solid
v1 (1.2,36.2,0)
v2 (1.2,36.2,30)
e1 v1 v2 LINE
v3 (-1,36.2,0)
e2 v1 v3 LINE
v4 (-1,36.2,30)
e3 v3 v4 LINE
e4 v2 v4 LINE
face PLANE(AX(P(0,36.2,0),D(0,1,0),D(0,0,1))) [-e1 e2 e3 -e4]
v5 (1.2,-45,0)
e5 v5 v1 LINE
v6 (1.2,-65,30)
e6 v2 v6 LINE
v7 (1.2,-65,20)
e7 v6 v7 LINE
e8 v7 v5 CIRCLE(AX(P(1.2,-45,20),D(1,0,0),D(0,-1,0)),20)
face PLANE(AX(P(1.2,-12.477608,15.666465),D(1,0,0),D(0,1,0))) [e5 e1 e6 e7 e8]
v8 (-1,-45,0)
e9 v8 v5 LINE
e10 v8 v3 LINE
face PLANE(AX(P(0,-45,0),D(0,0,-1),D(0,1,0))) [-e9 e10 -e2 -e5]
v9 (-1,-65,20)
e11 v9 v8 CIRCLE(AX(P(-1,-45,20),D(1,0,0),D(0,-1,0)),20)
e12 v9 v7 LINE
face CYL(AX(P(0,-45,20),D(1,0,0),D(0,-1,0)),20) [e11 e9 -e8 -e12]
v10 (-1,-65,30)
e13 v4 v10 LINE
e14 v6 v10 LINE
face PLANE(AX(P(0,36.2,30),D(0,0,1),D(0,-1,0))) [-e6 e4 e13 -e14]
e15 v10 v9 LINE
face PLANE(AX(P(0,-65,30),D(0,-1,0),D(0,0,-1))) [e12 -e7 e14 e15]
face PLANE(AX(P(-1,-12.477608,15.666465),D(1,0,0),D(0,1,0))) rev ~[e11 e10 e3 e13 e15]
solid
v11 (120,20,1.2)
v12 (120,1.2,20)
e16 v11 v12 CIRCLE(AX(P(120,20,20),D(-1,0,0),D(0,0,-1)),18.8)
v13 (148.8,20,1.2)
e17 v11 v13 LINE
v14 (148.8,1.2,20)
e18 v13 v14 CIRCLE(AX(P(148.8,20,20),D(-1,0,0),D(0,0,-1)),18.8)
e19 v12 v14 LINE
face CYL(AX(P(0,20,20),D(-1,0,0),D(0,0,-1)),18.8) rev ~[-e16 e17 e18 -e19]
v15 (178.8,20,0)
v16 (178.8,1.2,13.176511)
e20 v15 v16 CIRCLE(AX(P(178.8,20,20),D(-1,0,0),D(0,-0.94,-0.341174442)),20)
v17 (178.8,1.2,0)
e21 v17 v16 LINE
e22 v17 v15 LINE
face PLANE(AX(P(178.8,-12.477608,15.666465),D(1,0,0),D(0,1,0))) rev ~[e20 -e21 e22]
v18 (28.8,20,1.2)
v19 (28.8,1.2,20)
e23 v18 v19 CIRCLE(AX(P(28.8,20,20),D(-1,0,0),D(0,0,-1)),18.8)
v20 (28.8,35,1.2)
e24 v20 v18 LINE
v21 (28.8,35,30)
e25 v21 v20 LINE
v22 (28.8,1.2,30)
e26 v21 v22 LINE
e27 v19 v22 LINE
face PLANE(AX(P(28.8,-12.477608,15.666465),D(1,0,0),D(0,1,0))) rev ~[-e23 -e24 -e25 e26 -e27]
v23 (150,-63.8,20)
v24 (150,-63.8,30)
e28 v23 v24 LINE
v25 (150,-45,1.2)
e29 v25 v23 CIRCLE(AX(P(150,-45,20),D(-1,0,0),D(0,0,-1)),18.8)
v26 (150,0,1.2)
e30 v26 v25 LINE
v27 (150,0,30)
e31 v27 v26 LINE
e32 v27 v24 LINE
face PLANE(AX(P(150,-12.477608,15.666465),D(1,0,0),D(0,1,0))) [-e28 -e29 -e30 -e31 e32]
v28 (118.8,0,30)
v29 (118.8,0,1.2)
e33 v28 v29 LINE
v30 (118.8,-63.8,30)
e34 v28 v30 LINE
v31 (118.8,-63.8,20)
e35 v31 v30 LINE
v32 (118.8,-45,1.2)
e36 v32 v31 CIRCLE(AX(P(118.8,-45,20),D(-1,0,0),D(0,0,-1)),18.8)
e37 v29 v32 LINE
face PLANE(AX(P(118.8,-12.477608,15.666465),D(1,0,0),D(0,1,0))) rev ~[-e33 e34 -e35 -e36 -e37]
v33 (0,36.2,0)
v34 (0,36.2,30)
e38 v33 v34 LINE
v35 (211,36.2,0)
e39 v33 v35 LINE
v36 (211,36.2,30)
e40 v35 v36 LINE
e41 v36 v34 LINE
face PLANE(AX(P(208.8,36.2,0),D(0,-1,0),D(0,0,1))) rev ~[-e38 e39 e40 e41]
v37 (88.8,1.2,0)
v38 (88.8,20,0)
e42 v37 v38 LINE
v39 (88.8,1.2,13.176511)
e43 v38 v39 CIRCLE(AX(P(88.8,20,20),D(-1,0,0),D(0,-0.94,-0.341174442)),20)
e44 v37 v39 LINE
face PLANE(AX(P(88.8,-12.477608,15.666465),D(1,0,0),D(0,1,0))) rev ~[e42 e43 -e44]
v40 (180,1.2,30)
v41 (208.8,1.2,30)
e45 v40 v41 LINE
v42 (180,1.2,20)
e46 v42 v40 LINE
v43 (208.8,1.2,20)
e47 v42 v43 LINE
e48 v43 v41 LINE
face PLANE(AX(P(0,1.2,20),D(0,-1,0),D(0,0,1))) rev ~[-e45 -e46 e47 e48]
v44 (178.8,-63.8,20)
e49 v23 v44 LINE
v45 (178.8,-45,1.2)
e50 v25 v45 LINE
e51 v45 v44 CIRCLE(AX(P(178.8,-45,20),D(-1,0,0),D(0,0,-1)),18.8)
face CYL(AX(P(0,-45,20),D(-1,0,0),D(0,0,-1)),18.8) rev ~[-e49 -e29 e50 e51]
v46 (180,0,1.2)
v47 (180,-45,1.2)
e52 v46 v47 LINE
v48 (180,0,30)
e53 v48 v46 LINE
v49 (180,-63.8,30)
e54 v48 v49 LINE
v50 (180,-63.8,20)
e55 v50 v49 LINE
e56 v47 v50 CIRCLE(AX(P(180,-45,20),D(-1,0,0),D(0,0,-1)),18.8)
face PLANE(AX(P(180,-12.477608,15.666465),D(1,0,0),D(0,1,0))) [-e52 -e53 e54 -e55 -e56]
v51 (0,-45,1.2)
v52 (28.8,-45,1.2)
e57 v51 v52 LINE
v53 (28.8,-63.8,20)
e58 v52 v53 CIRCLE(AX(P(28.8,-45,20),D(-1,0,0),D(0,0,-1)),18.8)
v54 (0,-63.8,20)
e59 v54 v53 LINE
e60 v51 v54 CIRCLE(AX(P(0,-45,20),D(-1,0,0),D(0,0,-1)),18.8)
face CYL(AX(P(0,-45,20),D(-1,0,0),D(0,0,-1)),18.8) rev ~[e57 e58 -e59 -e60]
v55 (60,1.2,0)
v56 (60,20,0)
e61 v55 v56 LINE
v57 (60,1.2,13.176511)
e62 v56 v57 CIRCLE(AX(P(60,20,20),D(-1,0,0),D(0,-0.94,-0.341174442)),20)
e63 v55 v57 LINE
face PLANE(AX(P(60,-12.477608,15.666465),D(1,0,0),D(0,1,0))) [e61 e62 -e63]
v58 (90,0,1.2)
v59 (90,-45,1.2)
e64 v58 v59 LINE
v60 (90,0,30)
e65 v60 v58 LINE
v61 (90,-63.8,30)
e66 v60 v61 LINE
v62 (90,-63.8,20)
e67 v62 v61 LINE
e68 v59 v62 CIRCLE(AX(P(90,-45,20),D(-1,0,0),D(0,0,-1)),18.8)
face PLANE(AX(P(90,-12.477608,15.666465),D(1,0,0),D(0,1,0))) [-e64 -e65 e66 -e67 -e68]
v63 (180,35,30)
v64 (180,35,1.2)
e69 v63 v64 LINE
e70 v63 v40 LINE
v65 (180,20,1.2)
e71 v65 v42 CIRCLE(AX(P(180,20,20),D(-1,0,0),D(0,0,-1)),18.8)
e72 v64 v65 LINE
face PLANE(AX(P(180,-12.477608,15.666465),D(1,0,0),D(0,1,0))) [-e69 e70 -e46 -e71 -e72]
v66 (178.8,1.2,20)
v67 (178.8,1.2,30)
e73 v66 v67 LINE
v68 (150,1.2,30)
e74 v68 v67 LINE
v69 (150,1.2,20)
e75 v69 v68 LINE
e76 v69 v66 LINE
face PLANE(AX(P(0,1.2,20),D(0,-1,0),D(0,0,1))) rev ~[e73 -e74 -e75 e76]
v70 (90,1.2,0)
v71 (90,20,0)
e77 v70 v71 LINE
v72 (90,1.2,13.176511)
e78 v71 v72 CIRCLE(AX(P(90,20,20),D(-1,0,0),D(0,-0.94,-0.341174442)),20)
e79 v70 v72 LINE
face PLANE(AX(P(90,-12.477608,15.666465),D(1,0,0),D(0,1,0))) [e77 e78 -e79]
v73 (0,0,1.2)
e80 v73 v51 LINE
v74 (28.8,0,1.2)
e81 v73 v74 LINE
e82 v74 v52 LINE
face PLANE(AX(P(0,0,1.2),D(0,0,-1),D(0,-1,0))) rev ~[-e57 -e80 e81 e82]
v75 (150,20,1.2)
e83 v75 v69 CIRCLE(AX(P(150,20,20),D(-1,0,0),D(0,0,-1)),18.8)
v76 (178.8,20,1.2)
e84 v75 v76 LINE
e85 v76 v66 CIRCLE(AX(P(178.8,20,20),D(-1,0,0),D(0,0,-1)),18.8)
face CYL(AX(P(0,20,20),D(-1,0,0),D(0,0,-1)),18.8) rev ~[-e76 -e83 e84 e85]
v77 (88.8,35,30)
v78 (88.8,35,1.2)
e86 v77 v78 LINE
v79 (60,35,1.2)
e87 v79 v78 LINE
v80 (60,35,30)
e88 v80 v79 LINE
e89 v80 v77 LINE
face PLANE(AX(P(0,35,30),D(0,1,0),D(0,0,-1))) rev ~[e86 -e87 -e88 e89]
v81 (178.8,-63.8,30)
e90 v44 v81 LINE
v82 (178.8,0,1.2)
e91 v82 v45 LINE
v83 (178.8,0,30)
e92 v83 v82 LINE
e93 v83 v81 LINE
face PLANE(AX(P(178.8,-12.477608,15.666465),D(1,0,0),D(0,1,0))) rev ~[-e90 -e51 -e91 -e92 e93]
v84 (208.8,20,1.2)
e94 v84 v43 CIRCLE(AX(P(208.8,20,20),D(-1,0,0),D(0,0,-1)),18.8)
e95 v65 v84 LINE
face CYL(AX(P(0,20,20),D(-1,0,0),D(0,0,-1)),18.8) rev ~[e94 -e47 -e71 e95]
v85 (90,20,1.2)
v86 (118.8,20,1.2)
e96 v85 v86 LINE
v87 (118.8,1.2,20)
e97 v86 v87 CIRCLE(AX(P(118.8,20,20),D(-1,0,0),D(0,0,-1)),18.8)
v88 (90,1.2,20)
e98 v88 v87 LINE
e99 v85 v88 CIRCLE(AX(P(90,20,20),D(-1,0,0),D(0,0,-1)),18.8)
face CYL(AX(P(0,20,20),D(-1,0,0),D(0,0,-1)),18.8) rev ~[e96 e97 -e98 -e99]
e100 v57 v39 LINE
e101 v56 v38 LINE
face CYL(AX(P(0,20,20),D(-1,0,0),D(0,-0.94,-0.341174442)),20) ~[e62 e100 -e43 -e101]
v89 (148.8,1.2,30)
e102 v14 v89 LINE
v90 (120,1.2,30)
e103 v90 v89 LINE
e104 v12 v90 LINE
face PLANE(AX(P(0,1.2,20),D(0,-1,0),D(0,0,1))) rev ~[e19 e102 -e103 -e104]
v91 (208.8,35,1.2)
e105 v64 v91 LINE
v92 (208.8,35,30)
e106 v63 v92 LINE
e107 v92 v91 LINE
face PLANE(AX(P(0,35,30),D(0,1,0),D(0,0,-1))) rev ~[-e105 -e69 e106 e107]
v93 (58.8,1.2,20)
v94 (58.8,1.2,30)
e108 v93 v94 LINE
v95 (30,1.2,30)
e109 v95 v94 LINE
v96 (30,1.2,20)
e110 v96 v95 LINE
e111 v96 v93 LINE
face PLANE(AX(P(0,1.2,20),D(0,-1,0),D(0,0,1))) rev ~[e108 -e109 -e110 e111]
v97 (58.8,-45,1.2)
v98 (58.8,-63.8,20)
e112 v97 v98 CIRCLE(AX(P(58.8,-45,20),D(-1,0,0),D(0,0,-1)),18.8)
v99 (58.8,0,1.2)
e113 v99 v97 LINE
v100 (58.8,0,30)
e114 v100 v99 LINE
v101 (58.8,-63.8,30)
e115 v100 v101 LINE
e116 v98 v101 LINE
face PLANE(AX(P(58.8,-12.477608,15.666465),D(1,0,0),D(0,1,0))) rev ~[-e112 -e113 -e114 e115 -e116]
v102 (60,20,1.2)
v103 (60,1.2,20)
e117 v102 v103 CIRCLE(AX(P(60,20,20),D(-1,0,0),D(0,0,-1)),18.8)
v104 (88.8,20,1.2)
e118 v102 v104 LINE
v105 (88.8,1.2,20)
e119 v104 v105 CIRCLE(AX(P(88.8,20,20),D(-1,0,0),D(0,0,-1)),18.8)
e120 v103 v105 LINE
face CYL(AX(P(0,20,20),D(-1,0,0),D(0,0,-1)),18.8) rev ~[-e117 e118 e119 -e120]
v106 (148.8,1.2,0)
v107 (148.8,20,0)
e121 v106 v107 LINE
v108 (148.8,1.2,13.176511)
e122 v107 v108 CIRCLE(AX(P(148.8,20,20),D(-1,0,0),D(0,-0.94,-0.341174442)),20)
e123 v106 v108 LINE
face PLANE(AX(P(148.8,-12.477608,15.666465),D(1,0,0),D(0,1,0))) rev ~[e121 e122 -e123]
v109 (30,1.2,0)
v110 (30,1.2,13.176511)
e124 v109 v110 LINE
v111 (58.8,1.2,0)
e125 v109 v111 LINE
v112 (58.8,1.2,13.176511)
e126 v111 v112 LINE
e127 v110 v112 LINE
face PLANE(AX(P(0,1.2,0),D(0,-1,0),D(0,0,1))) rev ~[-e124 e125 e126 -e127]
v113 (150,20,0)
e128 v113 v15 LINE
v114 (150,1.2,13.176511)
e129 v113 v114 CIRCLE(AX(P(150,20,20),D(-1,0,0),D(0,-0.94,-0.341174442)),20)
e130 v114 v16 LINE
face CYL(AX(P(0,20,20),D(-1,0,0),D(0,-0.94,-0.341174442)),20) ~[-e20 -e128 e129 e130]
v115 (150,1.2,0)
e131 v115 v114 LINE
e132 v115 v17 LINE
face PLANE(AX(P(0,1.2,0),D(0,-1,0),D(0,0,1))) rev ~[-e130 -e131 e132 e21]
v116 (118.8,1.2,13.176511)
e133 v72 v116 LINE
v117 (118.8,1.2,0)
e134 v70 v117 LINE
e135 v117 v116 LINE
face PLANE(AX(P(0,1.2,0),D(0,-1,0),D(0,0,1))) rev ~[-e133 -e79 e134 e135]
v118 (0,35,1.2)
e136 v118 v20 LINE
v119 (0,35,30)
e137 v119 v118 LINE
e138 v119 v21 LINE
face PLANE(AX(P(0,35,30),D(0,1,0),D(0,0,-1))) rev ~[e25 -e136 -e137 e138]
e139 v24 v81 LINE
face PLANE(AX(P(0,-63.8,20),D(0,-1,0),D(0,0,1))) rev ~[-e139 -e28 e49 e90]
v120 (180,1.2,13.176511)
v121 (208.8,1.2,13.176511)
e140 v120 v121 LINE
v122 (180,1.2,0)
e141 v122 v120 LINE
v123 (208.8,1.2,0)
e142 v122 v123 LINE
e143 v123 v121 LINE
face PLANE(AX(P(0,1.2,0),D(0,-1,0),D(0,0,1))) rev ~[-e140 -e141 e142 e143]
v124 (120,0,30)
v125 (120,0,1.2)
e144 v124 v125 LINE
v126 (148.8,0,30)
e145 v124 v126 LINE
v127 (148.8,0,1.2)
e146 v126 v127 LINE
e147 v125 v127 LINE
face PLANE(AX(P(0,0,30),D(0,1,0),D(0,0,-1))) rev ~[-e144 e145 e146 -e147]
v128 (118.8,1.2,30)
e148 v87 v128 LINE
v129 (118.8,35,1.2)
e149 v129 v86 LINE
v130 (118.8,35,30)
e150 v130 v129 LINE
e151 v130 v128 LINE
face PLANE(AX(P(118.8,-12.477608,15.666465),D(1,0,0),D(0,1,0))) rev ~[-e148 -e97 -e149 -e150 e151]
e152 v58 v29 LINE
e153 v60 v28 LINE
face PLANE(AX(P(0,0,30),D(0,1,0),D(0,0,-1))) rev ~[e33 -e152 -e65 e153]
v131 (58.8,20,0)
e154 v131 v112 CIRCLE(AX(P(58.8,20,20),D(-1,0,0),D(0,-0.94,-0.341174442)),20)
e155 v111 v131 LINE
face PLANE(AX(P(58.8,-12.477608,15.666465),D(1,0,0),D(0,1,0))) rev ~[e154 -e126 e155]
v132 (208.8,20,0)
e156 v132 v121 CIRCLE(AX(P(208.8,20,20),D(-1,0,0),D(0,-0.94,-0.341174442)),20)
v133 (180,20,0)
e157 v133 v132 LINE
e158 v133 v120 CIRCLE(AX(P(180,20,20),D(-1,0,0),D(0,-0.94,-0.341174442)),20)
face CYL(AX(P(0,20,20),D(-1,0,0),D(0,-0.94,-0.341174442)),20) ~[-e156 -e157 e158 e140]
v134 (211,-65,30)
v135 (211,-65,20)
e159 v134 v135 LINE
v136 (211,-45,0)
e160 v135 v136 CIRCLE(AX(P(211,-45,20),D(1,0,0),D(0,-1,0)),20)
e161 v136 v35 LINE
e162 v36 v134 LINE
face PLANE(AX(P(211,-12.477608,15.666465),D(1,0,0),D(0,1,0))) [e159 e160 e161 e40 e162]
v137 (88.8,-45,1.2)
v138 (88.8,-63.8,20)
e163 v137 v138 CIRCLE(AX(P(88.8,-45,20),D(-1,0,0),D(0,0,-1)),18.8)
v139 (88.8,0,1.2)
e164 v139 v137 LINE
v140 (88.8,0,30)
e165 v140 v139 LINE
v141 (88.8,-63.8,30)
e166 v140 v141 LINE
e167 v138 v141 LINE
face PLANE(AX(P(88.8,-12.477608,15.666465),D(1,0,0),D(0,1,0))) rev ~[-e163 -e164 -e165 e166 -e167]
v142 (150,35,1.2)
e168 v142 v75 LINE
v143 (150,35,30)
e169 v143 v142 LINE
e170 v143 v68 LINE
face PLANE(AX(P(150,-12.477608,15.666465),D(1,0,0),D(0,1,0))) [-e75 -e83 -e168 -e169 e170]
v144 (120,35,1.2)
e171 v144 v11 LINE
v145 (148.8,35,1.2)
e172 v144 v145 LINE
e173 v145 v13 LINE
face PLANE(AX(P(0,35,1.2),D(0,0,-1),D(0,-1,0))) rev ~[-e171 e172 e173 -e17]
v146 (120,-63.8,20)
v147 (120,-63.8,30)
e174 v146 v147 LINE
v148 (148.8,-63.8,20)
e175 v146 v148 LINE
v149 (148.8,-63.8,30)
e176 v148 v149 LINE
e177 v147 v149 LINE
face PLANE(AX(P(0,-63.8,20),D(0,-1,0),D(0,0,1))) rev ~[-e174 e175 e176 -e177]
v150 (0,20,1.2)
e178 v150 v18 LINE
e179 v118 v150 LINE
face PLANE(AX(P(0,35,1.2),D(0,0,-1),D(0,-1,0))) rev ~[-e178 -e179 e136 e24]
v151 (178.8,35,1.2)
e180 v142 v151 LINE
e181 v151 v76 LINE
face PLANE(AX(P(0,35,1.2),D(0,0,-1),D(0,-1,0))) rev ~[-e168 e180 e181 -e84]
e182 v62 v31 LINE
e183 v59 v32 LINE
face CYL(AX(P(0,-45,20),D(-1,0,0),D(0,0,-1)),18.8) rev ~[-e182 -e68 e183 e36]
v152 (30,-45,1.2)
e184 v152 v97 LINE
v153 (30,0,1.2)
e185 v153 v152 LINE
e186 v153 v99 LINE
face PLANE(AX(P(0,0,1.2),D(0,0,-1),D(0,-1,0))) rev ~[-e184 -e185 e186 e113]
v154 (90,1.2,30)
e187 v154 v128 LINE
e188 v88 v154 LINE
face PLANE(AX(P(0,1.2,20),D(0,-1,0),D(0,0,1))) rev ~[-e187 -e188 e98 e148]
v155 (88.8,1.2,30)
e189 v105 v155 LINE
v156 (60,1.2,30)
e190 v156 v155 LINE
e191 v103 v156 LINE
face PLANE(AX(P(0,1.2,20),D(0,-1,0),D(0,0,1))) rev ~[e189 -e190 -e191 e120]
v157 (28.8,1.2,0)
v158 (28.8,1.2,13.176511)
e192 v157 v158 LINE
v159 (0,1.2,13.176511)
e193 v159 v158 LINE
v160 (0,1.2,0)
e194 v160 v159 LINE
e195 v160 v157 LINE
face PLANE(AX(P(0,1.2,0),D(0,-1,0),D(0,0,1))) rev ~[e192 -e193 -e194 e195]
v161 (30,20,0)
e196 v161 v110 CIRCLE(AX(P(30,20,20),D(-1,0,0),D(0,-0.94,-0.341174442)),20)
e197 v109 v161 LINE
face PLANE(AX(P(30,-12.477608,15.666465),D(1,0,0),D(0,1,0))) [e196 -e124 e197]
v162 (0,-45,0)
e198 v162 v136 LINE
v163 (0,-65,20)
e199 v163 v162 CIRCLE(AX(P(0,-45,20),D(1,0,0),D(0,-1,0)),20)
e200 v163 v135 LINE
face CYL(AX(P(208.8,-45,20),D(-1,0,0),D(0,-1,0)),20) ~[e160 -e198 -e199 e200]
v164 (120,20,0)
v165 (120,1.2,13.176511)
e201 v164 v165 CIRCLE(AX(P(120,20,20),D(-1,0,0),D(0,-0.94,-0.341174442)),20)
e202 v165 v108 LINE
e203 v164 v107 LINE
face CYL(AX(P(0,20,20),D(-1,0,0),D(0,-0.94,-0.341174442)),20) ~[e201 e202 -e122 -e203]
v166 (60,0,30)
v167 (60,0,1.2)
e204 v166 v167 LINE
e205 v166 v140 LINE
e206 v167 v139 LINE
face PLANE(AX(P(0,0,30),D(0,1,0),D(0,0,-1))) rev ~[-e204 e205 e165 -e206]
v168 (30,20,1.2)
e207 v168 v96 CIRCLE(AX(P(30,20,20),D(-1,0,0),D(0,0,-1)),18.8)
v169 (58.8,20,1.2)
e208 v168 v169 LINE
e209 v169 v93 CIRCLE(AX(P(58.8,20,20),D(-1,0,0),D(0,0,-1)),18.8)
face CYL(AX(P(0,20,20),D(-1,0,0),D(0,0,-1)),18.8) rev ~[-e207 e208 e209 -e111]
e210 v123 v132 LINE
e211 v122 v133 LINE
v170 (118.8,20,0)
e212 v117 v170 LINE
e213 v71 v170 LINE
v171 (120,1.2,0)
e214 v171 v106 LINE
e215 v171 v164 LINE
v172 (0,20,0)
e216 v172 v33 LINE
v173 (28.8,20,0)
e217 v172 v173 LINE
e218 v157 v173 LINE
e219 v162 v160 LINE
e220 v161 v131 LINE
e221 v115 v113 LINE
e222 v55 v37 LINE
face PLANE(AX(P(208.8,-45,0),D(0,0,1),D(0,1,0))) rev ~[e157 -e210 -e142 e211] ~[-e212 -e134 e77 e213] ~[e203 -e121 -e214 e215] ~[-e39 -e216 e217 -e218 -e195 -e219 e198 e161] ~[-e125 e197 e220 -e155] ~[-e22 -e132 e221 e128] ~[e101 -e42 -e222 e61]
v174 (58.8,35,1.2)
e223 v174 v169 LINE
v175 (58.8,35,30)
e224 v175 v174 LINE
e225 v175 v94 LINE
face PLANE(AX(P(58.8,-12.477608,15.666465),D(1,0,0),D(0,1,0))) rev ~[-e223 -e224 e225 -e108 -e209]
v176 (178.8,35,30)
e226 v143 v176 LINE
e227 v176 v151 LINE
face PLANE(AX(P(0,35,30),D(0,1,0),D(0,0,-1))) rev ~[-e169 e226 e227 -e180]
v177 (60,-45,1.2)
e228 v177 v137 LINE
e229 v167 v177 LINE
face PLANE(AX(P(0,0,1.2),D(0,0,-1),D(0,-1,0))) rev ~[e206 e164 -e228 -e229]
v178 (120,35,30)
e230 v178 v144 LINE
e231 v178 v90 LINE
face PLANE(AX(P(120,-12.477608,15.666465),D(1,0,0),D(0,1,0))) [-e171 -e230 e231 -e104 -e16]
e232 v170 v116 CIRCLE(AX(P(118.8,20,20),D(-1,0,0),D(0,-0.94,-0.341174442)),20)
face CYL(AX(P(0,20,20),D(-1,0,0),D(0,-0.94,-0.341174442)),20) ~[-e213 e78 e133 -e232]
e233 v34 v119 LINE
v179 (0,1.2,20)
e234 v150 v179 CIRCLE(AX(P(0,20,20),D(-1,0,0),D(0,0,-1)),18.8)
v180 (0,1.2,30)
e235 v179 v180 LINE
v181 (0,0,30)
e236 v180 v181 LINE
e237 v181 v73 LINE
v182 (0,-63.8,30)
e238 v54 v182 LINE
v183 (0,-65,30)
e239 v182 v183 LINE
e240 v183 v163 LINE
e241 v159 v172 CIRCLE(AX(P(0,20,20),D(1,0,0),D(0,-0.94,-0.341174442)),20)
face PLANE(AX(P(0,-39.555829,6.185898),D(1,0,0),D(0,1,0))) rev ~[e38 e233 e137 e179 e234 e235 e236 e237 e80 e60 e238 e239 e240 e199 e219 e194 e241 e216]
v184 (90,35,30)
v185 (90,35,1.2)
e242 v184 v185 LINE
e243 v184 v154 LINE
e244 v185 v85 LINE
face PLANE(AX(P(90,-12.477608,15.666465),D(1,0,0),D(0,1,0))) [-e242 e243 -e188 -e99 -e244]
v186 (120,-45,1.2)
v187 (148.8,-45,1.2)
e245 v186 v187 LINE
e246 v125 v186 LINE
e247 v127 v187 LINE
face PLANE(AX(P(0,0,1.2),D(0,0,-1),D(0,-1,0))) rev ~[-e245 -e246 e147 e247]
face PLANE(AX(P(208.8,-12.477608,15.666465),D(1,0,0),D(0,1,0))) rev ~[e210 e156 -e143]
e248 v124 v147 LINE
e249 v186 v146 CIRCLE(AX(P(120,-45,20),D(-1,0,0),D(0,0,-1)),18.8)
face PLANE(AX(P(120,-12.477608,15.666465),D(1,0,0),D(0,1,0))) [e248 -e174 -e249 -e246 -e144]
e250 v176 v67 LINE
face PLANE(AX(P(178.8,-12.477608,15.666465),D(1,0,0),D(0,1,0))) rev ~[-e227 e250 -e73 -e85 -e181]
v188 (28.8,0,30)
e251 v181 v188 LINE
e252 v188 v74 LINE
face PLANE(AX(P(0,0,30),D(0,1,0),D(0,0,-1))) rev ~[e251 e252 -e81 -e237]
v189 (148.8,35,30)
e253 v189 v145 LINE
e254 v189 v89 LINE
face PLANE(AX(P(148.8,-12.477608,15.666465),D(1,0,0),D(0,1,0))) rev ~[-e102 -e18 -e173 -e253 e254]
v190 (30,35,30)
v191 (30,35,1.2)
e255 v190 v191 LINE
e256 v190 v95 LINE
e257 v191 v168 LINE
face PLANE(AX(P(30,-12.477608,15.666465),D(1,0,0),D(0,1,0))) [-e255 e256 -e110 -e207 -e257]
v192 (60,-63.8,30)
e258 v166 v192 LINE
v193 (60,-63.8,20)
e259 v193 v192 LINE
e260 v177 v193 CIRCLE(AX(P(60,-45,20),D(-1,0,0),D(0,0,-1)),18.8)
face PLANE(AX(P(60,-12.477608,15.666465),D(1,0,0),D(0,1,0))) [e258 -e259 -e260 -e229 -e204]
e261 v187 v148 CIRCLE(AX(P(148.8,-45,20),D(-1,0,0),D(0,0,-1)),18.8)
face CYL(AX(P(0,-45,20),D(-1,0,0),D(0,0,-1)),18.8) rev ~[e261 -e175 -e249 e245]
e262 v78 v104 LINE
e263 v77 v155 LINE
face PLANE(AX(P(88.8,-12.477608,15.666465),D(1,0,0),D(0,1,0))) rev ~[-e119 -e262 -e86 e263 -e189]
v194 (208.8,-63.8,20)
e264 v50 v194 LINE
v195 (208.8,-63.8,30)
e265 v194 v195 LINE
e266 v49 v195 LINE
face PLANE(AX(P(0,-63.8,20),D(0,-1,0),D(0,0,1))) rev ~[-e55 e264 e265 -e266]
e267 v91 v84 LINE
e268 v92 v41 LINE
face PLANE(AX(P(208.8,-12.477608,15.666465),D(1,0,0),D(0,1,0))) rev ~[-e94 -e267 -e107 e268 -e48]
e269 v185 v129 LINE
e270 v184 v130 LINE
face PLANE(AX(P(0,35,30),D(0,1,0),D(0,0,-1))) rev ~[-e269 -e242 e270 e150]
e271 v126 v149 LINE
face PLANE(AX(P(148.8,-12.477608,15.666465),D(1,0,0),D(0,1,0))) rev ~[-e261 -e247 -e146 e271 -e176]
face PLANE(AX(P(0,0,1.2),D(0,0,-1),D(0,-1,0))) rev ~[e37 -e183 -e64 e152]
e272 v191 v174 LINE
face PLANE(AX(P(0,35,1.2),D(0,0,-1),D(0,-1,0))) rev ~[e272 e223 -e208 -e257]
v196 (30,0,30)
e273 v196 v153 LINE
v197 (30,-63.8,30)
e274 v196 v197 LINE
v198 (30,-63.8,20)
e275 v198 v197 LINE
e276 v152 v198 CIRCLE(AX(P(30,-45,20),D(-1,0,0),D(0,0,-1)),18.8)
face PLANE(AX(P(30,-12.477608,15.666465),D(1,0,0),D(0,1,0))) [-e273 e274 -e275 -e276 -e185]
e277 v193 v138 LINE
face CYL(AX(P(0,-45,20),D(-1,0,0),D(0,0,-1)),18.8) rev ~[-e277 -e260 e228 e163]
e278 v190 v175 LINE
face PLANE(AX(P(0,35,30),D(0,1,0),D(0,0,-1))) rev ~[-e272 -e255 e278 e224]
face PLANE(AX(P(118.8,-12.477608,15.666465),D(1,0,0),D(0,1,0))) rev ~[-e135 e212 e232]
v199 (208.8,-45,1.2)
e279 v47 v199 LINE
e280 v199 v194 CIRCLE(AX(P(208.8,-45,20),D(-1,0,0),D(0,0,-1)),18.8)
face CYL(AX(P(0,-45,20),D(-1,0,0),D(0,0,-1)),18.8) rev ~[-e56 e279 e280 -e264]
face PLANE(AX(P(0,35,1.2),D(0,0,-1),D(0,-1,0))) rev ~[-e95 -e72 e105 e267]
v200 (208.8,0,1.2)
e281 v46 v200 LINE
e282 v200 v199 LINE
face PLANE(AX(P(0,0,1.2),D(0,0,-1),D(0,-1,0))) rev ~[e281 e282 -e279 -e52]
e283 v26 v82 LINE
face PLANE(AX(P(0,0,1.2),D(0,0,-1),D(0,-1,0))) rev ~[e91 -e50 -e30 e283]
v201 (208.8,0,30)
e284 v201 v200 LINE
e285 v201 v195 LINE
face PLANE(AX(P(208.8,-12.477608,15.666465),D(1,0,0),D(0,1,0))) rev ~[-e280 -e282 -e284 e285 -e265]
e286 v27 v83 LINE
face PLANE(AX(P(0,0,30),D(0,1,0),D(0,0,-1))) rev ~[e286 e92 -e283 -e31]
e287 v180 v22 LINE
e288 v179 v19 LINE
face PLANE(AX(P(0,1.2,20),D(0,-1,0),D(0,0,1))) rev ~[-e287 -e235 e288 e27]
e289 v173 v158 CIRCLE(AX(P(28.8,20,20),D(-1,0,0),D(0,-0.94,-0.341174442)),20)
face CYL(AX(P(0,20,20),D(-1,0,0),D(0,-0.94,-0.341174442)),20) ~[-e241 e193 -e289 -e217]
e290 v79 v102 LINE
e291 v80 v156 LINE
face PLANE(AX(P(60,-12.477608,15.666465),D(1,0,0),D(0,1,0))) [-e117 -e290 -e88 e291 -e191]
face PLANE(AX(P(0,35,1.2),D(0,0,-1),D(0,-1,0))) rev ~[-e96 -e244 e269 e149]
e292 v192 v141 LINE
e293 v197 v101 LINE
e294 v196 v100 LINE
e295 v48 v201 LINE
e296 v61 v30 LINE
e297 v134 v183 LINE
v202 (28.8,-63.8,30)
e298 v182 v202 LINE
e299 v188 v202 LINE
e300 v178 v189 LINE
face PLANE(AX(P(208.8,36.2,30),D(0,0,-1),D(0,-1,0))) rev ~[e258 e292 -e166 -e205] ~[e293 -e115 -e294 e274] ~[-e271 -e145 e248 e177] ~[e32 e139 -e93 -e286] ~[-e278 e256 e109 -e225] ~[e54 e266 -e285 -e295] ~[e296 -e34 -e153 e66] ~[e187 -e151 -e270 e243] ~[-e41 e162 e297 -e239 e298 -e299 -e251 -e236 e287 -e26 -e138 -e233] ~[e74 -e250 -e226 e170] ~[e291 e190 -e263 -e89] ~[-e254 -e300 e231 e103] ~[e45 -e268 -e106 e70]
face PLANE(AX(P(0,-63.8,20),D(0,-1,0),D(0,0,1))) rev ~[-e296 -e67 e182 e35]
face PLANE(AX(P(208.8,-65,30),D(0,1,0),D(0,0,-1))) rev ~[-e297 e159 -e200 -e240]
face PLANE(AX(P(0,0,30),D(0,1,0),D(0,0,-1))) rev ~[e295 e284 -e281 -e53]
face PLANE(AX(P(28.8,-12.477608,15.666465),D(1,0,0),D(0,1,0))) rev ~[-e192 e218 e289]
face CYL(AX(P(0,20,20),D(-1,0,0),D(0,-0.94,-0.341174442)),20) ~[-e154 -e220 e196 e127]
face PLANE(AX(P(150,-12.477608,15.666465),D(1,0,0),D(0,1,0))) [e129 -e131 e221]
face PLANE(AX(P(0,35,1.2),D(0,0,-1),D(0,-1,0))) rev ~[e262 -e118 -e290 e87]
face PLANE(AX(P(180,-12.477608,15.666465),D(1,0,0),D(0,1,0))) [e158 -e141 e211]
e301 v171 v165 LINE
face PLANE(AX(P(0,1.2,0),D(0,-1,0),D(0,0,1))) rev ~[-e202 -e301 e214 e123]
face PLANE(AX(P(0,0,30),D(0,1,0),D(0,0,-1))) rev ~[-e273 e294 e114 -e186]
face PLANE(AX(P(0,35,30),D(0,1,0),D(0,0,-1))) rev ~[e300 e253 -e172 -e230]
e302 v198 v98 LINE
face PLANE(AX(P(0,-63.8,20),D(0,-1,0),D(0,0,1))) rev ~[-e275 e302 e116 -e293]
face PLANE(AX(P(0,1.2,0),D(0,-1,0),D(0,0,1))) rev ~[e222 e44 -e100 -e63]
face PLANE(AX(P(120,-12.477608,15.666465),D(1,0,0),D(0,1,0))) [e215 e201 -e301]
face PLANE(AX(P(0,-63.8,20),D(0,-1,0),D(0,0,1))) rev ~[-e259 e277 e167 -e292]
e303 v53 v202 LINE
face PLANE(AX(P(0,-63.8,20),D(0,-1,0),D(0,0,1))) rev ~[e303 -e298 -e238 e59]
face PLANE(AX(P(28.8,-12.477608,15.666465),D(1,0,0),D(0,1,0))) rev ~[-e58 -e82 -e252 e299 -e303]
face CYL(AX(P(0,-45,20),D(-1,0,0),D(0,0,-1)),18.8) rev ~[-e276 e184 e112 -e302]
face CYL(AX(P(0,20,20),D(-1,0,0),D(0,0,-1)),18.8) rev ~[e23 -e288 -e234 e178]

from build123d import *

# Parameters (mm, degrees)
F1_DEPTH      = 210
F3_DEPTH      = 1.2
F3_DEPTH_BACK = 1
F4_START      = 28.8
F4_DEPTH      = 1.2
F5_START      = 58.8
F5_DEPTH      = 1.2
F6_START      = 88.8
F6_DEPTH      = 1.2
F7_START      = 118.8
F7_DEPTH      = 1.2
F8_START      = 148.8
F8_DEPTH      = 1.2
F9_START      = 178.8
F9_DEPTH      = 1.2
F10_START     = 208.8
F10_DEPTH     = 2.2


with BuildPart() as f1:
    # F0 (on Right) → F1 (new body)
    with BuildSketch(Plane.YZ):
        with BuildLine():
            Line((-45, 0), (0, 0))
            Line((0, 0), (0, 1.2))
            Line((0, 1.2), (-45, 1.2))
            ThreePointArc((-45, 1.2), (-58.2936074863, 6.7063925137), (-63.8, 20))
            Line((-63.8, 20), (-63.8, 30))
            Line((-63.8, 30), (-65, 30))
            Line((-65, 30), (-65, 20))
            ThreePointArc((-65, 20), (-59.1421356237, 5.8578643763), (-45, 0))
        make_face()
        with BuildLine():
            Line((0, 1.2), (0, 0))
            Line((0, 0), (1.2, 0))
            Line((1.2, 0), (1.2, 13.1765111563))
            ThreePointArc((1.2, 13.1765111563), (0.3022843964, 16.5358983849), (0, 20))
            Line((0, 20), (0, 1.2))
        make_face()
        with BuildLine():
            Line((0, 30), (0, 20))
            ThreePointArc((0, 20), (0.3022843964, 16.5358983849), (1.2, 13.1765111563))
            ThreePointArc((1.2, 13.1765111563), (8.5211014656, 3.62212198), (20, 0))
            Line((20, 0), (35, 0))
            Line((35, 0), (35, 1.2))
            Line((35, 1.2), (20, 1.2))
            ThreePointArc((20, 1.2), (6.7063925137, 6.7063925137), (1.2, 20))
            Line((1.2, 20), (1.2, 30))
            Line((1.2, 30), (0, 30))
        make_face()
        Polygon((35, 1.2), (35, 0), (36.2, 0), (36.2, 30), (35, 30), align=None)
    extrude(amount=F1_DEPTH)

    # F2 (on Right) → F4 (join)
    with BuildSketch(Plane.YZ.offset(F4_START)):
        with BuildLine():
            Line((-65, 30), (-65, 20))
            ThreePointArc((-65, 20), (-59.1421356237, 5.8578643763), (-45, 0))
            Line((-45, 0), (36.2, 0))
            Line((36.2, 0), (36.2, 30))
            Line((36.2, 30), (-65, 30))
        make_face()
    extrude(amount=F4_DEPTH)

    # F2 (on Right) → F5 (join)
    with BuildSketch(Plane.YZ.offset(F5_START)):
        with BuildLine():
            Line((-65, 30), (-65, 20))
            ThreePointArc((-65, 20), (-59.1421356237, 5.8578643763), (-45, 0))
            Line((-45, 0), (36.2, 0))
            Line((36.2, 0), (36.2, 30))
            Line((36.2, 30), (-65, 30))
        make_face()
    extrude(amount=F5_DEPTH)

    # F2 (on Right) → F6 (join)
    with BuildSketch(Plane.YZ.offset(F6_START)):
        with BuildLine():
            Line((-65, 30), (-65, 20))
            ThreePointArc((-65, 20), (-59.1421356237, 5.8578643763), (-45, 0))
            Line((-45, 0), (36.2, 0))
            Line((36.2, 0), (36.2, 30))
            Line((36.2, 30), (-65, 30))
        make_face()
    extrude(amount=F6_DEPTH)

    # F2 (on Right) → F7 (join)
    with BuildSketch(Plane.YZ.offset(F7_START)):
        with BuildLine():
            Line((-65, 30), (-65, 20))
            ThreePointArc((-65, 20), (-59.1421356237, 5.8578643763), (-45, 0))
            Line((-45, 0), (36.2, 0))
            Line((36.2, 0), (36.2, 30))
            Line((36.2, 30), (-65, 30))
        make_face()
    extrude(amount=F7_DEPTH)

    # F2 (on Right) → F8 (join)
    with BuildSketch(Plane.YZ.offset(F8_START)):
        with BuildLine():
            Line((-65, 30), (-65, 20))
            ThreePointArc((-65, 20), (-59.1421356237, 5.8578643763), (-45, 0))
            Line((-45, 0), (36.2, 0))
            Line((36.2, 0), (36.2, 30))
            Line((36.2, 30), (-65, 30))
        make_face()
    extrude(amount=F8_DEPTH)

    # F2 (on Right) → F9 (join)
    with BuildSketch(Plane.YZ.offset(F9_START)):
        with BuildLine():
            Line((-65, 30), (-65, 20))
            ThreePointArc((-65, 20), (-59.1421356237, 5.8578643763), (-45, 0))
            Line((-45, 0), (36.2, 0))
            Line((36.2, 0), (36.2, 30))
            Line((36.2, 30), (-65, 30))
        make_face()
    extrude(amount=F9_DEPTH)

    # F2 (on Right) → F10 (join)
    with BuildSketch(Plane.YZ.offset(F10_START)):
        with BuildLine():
            Line((-65, 30), (-65, 20))
            ThreePointArc((-65, 20), (-59.1421356237, 5.8578643763), (-45, 0))
            Line((-45, 0), (36.2, 0))
            Line((36.2, 0), (36.2, 30))
            Line((36.2, 30), (-65, 30))
        make_face()
    extrude(amount=F10_DEPTH)


with BuildPart() as f3:
    # F2 (on Right) → F3 (new body, two sides)
    with BuildSketch(Plane.YZ) as f3_sk:
        with BuildLine():
            Line((-65, 30), (-65, 20))
            ThreePointArc((-65, 20), (-59.1421356237, 5.8578643763), (-45, 0))
            Line((-45, 0), (36.2, 0))
            Line((36.2, 0), (36.2, 30))
            Line((36.2, 30), (-65, 30))
        make_face()
    extrude(amount=F3_DEPTH)
    extrude(f3_sk.sketch, amount=-F3_DEPTH_BACK)


solid = Compound([f1.part, f3.part])
